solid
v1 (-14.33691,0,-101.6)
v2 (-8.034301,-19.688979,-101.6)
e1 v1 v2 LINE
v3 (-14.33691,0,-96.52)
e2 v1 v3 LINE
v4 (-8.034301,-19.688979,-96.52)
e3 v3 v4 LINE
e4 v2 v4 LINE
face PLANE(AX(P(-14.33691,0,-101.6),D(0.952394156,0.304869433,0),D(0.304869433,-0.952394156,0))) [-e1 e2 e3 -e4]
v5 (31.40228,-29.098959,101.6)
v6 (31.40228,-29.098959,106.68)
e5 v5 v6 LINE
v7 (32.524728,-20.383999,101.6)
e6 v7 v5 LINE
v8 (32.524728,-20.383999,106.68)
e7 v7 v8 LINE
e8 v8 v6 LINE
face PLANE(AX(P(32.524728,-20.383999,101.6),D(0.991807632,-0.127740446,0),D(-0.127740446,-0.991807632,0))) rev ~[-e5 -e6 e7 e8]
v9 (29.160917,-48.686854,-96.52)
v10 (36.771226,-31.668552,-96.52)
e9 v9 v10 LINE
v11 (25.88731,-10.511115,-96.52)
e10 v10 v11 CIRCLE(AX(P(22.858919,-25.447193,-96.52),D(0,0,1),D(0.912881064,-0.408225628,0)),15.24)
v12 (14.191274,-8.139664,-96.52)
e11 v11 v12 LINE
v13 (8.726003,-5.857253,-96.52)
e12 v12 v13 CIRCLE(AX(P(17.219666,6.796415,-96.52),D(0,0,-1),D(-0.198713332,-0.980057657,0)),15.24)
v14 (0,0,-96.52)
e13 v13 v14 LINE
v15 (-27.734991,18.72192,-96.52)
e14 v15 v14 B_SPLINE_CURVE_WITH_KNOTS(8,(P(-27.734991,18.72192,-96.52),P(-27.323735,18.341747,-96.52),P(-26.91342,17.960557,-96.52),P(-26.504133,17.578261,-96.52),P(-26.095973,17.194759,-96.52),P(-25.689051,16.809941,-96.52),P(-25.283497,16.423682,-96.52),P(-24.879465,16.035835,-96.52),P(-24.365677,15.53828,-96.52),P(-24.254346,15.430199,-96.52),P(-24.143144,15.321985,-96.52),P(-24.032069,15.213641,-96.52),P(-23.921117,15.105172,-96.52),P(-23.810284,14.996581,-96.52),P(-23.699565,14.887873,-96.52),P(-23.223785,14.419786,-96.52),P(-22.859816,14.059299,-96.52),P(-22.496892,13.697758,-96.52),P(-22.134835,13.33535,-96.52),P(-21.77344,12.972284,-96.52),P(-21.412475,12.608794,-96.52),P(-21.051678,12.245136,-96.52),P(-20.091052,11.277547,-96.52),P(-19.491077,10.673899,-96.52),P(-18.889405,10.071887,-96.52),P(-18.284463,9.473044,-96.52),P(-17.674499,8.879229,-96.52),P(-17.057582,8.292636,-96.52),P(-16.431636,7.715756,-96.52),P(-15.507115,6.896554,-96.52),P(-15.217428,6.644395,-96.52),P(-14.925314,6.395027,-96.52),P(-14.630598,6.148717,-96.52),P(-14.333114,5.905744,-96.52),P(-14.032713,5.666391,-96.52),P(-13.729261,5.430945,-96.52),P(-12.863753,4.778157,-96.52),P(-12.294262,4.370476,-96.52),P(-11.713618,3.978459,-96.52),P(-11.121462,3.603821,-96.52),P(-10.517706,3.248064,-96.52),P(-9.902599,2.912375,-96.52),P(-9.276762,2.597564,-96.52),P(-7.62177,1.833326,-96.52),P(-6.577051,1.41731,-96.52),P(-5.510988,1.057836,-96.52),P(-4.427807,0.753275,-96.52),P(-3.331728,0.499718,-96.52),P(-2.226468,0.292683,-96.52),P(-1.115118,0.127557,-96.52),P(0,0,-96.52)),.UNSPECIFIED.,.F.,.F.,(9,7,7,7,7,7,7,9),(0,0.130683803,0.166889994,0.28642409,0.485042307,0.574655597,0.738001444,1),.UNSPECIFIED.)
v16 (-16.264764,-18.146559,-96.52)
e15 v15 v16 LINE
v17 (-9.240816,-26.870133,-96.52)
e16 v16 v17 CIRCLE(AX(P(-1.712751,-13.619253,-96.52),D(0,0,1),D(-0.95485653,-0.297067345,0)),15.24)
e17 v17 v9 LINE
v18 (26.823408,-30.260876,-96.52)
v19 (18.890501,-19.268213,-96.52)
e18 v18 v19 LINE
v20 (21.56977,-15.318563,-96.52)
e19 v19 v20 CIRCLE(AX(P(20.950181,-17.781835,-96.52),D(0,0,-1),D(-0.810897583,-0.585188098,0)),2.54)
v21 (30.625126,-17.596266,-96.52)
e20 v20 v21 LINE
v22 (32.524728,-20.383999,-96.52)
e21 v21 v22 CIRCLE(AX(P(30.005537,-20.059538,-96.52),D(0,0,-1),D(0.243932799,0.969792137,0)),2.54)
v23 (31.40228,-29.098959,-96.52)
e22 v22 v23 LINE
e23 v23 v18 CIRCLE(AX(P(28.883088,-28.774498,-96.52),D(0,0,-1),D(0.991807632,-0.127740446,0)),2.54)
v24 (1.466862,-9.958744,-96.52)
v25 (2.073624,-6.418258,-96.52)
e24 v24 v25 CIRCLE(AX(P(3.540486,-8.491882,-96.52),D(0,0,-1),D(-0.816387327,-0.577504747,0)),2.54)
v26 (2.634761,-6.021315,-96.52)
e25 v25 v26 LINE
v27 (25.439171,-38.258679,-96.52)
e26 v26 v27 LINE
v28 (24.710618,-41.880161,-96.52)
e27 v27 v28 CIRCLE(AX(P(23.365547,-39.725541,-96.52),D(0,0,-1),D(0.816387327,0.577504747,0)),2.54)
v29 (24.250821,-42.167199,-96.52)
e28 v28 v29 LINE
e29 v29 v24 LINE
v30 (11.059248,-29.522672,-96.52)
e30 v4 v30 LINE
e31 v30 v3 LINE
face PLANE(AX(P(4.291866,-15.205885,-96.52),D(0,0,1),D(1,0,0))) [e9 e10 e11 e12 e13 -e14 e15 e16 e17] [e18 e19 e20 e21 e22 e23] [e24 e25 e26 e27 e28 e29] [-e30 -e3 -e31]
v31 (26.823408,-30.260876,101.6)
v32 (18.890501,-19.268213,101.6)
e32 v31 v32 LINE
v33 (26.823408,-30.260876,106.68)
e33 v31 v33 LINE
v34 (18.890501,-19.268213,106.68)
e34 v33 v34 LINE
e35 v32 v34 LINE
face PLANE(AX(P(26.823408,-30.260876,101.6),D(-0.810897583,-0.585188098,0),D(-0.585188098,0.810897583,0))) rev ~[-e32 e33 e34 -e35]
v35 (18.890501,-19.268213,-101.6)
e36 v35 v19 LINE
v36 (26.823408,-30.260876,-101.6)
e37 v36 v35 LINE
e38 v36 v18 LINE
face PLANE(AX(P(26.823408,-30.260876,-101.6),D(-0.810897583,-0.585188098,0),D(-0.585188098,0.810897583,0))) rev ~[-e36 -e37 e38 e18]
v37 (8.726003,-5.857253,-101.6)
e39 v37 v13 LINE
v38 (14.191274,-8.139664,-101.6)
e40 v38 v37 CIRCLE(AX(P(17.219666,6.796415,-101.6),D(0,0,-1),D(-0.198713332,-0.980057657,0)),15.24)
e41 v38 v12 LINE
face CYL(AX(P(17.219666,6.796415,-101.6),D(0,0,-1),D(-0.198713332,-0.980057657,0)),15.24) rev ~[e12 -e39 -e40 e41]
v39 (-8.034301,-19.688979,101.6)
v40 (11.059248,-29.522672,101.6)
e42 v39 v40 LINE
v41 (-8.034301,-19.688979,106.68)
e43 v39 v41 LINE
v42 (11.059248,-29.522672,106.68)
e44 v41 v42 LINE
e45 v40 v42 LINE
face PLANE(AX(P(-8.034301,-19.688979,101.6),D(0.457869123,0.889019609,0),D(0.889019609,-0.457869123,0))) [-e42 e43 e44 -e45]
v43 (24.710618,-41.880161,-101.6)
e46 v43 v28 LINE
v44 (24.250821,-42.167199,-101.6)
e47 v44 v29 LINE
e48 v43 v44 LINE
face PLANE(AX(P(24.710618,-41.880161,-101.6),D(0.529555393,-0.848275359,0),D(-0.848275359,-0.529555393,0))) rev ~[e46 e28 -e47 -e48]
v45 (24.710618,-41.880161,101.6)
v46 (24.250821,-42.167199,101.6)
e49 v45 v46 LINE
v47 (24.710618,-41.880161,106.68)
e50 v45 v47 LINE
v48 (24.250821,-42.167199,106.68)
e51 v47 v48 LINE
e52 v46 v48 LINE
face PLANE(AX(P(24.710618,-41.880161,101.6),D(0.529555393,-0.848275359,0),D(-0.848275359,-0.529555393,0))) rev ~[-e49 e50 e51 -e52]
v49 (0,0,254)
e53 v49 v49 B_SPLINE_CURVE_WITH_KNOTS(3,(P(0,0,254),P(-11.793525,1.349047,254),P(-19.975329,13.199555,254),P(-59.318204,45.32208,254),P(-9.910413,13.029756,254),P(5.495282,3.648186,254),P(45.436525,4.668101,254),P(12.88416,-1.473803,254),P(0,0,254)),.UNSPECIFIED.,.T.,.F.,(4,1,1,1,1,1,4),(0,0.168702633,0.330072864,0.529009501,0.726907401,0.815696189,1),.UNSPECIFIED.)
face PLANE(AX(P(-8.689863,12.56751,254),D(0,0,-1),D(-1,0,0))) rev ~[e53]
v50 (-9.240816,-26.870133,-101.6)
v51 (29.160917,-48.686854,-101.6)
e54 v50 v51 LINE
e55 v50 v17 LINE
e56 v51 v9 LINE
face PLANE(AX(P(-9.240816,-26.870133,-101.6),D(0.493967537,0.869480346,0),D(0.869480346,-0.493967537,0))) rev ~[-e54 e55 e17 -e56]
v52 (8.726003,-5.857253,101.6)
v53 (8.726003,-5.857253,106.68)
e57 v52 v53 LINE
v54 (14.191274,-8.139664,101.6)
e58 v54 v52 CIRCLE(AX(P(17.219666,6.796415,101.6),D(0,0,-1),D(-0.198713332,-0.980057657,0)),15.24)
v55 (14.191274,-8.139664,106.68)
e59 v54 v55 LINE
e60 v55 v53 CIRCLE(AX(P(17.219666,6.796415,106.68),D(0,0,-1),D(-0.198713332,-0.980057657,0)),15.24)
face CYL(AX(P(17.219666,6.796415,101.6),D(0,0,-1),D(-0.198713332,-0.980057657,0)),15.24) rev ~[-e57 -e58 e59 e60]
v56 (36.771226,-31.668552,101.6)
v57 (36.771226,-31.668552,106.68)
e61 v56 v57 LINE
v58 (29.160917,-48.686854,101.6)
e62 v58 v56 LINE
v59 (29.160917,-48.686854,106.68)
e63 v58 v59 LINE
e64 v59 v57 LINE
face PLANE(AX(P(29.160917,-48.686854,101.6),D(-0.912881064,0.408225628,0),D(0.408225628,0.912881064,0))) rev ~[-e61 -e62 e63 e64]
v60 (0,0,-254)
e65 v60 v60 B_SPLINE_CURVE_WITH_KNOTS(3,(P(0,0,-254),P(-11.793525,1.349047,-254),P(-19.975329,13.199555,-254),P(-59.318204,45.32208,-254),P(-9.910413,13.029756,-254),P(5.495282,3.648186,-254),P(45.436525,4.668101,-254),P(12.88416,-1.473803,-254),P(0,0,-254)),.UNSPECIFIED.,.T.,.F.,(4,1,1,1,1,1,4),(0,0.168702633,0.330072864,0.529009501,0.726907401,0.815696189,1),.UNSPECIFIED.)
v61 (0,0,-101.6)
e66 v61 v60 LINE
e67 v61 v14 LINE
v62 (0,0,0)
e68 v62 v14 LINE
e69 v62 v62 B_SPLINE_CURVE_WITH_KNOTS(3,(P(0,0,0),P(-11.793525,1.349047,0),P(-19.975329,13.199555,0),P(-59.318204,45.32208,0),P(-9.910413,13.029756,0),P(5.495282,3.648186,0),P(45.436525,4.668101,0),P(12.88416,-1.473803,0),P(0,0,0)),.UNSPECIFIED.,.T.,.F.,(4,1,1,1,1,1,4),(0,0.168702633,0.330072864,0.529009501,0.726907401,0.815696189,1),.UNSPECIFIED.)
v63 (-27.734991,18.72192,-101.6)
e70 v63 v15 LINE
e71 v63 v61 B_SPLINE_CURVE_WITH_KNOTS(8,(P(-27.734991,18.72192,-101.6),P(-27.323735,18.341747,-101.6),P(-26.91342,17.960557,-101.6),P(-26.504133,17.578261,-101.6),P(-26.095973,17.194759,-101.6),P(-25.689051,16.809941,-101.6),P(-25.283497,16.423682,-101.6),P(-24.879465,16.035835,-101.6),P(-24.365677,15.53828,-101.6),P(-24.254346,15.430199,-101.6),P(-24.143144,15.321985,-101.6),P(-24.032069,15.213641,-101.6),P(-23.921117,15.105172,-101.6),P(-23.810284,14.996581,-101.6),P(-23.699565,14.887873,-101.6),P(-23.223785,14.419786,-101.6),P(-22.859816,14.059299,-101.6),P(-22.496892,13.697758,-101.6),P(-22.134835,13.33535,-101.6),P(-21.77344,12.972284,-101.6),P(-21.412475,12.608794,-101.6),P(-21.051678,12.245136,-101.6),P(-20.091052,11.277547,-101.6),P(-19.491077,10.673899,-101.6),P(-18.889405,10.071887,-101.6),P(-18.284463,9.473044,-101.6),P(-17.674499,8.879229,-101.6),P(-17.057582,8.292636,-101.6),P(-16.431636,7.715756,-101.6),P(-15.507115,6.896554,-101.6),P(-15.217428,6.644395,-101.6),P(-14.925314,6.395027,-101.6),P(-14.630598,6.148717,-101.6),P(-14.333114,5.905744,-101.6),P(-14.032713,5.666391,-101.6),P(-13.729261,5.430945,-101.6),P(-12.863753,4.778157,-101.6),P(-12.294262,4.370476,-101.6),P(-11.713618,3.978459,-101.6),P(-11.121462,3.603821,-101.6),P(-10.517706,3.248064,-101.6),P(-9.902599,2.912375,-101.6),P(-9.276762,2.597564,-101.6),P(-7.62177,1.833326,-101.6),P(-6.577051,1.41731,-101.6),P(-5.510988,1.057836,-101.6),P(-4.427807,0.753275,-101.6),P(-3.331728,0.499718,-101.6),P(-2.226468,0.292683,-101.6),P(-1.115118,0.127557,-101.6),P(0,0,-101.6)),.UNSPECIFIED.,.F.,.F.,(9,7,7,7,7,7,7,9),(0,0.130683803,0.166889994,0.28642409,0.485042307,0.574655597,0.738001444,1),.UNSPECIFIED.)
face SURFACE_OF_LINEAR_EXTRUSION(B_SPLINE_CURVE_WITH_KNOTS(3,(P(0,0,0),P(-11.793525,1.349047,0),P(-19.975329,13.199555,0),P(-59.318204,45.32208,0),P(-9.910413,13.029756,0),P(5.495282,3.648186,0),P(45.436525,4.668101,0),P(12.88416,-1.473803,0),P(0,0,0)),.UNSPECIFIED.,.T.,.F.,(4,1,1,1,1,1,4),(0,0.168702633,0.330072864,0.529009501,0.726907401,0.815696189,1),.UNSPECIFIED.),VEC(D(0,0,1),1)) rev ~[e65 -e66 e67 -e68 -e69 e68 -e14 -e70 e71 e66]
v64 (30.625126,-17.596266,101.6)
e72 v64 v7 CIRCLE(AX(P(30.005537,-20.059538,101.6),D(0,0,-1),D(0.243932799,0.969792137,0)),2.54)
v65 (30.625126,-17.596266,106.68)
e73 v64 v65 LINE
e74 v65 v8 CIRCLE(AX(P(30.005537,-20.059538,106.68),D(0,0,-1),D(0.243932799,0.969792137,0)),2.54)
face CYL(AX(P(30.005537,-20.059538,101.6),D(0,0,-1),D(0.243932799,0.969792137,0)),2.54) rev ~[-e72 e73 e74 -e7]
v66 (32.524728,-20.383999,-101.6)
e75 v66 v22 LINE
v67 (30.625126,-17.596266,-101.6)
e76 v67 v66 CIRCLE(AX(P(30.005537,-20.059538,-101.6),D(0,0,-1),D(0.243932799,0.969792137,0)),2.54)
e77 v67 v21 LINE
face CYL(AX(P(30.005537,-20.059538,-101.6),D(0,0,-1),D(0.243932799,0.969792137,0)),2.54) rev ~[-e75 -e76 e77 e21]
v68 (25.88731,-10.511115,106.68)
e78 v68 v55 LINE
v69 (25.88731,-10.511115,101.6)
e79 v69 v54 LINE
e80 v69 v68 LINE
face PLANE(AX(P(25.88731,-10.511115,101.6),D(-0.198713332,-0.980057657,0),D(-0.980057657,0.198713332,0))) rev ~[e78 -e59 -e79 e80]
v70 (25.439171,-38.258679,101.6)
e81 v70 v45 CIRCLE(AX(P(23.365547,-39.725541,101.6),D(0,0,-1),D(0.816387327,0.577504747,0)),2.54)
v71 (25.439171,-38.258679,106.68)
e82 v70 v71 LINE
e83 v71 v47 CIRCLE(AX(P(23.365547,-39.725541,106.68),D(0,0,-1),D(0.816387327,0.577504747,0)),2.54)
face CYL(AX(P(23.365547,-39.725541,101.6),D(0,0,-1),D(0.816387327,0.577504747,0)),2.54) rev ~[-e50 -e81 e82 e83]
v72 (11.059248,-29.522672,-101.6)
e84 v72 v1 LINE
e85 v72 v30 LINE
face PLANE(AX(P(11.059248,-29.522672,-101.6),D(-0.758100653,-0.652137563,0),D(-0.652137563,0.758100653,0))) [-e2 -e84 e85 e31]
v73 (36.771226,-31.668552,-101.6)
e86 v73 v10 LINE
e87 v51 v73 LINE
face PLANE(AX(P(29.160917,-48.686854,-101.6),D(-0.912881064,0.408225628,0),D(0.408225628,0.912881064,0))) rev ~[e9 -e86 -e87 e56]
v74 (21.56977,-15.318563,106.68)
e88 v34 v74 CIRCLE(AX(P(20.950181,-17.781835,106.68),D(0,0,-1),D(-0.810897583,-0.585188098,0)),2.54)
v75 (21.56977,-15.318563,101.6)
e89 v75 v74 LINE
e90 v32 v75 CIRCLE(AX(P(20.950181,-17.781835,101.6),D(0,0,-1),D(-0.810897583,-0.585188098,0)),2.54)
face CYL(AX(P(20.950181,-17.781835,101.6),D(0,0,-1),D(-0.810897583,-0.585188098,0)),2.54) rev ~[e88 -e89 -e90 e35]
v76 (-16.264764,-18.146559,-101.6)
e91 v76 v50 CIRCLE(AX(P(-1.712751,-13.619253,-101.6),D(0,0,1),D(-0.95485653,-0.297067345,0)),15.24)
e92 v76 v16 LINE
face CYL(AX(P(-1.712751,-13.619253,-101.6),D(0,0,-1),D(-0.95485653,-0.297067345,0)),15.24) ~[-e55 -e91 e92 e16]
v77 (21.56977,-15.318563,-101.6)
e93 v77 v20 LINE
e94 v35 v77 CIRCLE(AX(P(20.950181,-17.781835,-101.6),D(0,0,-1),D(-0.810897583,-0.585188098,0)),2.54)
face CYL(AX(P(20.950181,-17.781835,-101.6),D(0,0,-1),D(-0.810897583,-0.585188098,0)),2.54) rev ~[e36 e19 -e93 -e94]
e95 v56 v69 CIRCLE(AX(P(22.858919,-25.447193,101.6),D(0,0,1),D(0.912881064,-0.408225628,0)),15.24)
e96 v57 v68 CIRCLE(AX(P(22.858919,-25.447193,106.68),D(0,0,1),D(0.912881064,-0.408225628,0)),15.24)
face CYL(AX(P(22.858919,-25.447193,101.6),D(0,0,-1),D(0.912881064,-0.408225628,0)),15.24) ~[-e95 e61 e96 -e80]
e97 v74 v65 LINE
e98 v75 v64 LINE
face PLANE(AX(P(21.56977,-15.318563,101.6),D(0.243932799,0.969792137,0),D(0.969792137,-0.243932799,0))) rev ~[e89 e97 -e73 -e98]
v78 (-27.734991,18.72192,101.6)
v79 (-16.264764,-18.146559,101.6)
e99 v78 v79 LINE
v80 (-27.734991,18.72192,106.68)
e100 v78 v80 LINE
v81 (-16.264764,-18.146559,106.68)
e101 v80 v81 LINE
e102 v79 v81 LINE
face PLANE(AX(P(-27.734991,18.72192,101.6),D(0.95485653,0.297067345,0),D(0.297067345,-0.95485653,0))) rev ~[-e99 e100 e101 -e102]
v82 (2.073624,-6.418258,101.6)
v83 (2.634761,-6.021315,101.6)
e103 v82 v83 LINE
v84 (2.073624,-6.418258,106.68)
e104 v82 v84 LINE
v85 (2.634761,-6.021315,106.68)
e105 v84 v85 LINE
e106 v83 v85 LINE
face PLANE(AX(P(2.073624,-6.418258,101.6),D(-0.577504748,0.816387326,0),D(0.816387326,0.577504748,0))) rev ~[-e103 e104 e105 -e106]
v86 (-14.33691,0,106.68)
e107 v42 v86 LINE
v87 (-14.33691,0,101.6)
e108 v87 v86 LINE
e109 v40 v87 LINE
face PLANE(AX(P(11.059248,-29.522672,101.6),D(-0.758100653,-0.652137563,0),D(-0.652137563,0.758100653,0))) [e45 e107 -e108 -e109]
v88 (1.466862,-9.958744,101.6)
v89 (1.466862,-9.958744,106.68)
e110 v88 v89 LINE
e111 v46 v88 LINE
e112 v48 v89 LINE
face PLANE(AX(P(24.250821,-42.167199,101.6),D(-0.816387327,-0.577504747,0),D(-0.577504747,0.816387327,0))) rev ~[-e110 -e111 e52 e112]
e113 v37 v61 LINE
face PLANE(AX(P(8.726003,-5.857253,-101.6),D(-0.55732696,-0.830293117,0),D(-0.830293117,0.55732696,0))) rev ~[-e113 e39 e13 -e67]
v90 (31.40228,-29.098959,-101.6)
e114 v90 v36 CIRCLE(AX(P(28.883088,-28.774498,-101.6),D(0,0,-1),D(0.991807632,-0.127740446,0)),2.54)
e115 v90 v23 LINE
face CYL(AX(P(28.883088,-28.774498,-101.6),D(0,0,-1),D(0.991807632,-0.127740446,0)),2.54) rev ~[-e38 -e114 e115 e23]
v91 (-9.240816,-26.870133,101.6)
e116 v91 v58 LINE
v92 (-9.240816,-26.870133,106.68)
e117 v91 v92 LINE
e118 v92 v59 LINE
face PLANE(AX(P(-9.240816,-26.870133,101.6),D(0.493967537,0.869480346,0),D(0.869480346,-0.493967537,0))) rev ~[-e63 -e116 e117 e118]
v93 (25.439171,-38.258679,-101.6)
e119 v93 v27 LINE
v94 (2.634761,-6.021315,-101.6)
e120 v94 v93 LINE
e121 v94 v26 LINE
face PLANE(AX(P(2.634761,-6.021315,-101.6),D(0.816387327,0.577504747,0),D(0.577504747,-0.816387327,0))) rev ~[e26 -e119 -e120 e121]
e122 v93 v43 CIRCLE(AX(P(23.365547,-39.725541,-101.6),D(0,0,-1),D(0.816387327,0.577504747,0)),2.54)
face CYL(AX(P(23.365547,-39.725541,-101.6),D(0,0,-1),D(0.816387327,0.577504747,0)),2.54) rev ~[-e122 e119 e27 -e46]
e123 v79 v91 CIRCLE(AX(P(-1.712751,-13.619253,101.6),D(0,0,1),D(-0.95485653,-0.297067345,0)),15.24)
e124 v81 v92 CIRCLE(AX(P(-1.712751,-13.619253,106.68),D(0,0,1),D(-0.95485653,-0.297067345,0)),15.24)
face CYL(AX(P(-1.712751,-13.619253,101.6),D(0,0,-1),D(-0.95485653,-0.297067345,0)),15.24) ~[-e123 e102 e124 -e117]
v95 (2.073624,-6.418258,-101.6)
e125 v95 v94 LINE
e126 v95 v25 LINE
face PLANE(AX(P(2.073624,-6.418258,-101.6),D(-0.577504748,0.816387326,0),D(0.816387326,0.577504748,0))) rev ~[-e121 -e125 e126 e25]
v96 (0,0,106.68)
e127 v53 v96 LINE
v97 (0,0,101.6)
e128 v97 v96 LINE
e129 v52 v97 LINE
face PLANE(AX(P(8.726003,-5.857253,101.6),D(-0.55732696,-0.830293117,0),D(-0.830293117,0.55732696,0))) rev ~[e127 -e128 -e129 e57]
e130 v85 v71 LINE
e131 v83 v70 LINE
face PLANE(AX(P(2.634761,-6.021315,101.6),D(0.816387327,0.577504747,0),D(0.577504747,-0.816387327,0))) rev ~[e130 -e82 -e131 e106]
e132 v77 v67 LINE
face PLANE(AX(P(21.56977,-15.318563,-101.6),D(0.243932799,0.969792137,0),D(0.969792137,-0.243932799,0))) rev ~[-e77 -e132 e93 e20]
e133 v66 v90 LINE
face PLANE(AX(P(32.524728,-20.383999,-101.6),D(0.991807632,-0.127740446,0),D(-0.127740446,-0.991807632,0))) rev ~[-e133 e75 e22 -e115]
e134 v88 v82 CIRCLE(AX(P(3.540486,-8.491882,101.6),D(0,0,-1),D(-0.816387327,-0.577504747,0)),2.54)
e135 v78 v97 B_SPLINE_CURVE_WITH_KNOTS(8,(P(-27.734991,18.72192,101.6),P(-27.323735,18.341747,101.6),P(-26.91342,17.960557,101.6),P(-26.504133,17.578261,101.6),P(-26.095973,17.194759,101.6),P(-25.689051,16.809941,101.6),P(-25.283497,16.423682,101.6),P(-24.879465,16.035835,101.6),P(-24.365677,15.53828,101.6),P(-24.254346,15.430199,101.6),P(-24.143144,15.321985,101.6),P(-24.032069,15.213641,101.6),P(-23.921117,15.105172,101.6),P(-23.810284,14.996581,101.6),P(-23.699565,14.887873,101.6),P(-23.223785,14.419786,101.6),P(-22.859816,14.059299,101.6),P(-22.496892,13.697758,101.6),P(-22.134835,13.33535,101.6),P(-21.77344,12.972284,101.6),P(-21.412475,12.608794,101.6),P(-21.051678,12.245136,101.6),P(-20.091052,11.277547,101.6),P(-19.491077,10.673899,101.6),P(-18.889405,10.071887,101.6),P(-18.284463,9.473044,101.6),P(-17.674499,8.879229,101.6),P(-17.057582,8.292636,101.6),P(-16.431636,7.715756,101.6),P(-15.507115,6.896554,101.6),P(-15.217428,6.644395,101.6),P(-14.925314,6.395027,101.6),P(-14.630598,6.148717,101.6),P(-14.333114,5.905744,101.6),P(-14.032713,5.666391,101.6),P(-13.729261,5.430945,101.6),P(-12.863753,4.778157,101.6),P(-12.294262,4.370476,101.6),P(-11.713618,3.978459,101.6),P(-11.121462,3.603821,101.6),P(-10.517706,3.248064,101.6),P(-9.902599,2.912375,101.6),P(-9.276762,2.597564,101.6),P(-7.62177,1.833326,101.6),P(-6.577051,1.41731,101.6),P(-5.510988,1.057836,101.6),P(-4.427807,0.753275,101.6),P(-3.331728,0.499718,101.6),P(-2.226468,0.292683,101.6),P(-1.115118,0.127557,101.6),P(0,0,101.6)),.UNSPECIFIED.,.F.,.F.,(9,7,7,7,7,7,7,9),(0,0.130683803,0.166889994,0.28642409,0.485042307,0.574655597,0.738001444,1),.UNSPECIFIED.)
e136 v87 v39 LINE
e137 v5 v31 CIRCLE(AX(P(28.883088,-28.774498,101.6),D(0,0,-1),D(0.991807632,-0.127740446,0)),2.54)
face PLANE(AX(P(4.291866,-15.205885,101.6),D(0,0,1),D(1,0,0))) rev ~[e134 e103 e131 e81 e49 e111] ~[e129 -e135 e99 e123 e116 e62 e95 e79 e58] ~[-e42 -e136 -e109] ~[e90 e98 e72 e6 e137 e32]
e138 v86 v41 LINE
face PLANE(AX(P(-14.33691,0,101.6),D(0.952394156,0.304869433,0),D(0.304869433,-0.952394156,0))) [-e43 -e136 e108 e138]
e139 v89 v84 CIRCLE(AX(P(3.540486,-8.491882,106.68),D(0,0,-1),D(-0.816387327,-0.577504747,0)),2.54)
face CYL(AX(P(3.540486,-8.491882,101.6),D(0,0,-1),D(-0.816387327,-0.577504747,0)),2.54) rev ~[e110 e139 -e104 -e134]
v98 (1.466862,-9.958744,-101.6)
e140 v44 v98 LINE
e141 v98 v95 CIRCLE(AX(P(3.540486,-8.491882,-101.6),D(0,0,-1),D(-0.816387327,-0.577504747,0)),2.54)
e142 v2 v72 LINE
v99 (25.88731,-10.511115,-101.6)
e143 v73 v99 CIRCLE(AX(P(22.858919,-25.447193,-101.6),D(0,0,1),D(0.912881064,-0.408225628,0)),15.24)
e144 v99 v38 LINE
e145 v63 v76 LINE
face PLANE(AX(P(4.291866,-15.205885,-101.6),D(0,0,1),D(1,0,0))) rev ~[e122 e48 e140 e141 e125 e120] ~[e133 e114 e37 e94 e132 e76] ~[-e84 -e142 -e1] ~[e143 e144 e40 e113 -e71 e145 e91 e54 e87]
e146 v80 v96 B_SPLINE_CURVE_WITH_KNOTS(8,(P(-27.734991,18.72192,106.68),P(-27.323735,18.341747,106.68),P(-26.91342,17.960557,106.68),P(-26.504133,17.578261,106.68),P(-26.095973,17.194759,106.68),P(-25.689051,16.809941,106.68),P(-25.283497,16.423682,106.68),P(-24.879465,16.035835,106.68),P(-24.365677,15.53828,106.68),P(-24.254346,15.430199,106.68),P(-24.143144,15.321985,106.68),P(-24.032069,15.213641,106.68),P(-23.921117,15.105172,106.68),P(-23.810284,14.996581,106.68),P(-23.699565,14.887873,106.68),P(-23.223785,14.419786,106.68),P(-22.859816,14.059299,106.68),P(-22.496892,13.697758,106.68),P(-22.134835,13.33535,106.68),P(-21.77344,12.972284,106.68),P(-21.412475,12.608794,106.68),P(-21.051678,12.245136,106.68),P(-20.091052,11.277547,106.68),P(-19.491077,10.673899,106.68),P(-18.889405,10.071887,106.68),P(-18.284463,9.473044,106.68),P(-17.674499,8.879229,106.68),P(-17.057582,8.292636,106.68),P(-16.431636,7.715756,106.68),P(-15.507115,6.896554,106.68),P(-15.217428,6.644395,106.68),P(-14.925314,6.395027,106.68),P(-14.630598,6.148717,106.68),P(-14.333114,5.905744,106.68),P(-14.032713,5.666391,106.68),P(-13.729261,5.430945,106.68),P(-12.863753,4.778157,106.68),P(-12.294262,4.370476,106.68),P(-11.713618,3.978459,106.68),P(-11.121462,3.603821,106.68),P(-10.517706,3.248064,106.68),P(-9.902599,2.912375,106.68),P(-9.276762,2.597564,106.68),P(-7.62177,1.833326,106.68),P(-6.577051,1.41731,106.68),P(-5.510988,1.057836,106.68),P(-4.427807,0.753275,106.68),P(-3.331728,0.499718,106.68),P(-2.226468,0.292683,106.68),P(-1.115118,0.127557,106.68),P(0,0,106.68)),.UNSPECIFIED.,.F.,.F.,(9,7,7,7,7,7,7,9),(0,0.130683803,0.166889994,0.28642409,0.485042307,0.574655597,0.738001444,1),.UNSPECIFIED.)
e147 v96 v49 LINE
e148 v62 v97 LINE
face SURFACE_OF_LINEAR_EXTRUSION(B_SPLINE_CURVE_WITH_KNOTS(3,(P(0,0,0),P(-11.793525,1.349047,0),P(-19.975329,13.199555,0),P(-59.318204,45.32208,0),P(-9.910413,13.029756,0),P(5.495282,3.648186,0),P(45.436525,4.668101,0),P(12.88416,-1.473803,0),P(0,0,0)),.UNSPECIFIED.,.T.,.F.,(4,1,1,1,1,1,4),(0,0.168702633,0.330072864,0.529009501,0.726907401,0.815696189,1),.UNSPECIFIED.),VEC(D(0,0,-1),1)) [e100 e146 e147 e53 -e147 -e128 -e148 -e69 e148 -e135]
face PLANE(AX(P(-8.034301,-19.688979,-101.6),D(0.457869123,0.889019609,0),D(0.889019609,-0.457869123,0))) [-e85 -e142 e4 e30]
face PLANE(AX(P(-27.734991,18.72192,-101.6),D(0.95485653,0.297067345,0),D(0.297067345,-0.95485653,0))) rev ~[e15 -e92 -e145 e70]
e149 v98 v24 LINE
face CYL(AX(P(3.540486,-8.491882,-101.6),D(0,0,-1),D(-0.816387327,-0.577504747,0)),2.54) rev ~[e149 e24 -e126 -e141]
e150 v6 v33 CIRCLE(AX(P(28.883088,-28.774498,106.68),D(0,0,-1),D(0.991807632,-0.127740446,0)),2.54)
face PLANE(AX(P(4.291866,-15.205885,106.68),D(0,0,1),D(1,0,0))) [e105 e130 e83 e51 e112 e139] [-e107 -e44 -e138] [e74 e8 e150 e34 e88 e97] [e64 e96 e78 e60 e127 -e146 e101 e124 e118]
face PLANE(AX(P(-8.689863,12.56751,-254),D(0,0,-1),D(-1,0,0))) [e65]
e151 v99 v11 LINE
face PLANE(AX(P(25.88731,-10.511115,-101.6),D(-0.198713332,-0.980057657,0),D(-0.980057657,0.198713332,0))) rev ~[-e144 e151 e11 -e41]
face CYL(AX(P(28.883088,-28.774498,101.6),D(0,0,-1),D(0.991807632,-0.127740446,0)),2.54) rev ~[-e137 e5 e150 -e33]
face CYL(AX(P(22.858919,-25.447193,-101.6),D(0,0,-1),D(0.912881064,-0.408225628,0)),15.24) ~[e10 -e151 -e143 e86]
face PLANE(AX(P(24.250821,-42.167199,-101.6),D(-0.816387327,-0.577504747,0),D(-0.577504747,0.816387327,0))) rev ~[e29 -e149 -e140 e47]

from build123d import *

# Parameters (mm, degrees)
BOSS_EXTRUDE1_DEPTH      = 254
BOSS_EXTRUDE1_DEPTH_BACK = 254
BOSS_EXTRUDE3_START      = 101.6
BOSS_EXTRUDE3_DEPTH      = 5.08
BOSS_EXTRUDE4_START      = -101.6
BOSS_EXTRUDE4_DEPTH      = 5.08


with BuildPart() as part:
    # Sketch1 → Boss-Extrude1 (new body, two sides)
    with BuildSketch(Plane.XY) as boss_extrude1_sk:
        with BuildLine():
            add(Edge.make_bspline(
                [(0, 0), (-11.793525261, 1.349047136), (-19.975328866, 13.199555213), (-59.318204425, 45.322079961), (-9.910413221, 13.029756153), (5.495282291, 3.64818604), (45.436525366, 4.66810117), (12.884159615, -1.473803484), (0, 0)],
                knots=[0, 0, 0, 0, 0.168702633, 0.330072864, 0.529009501, 0.726907401, 0.815696189, 1, 1, 1, 1], degree=3))
        make_face()
    extrude(amount=BOSS_EXTRUDE1_DEPTH)
    extrude(boss_extrude1_sk.sketch, amount=-BOSS_EXTRUDE1_DEPTH_BACK)

    # Sketch5 → Boss-Extrude3 (add)
    with BuildSketch(Plane.XY.offset(BOSS_EXTRUDE3_START)):
        with BuildLine():
            Line((-27.734991315, 18.72191959), (-16.264764371, -18.146559209))
            ThreePointArc((-16.264764371, -18.146559209), (-13.583203929, -23.176969331), (-9.240816118, -26.870133353))
            Line((-9.240816118, -26.870133353), (29.160917005, -48.686853663))
            Line((29.160917005, -48.686853663), (36.771225951, -31.668551915))
            ThreePointArc((36.771225951, -31.668551915), (36.410896446, -18.475716102), (25.887309714, -10.51111464))
            Line((25.887309714, -10.51111464), (14.191274323, -8.139664204))
            ThreePointArc((14.191274323, -8.139664204), (11.346694949, -7.26650899), (8.726002622, -5.857252601))
            Line((8.726002622, -5.857252601), (0, 0))
            Line((0, 0), (-27.734991315, 18.72191959))
        make_face()
        Polygon((-14.336909606, 0), (-8.034300835, -19.688978698), (11.0592478, -29.522672217), align=None, mode=Mode.SUBTRACT)
        with BuildLine():
            Line((24.250821237, -42.167199078), (1.466862058, -9.958744316))
            ThreePointArc((1.466862058, -9.958744316), (1.036984302, -8.062836909), (2.07362381, -6.418258448))
            Line((2.07362381, -6.418258448), (2.634761281, -6.021315057))
            Line((2.634761281, -6.021315057), (25.439170673, -38.258679182))
            ThreePointArc((25.439170673, -38.258679182), (25.855657312, -40.226490291), (24.710617564, -41.880160651))
            Line((24.710617564, -41.880160651), (24.250821237, -42.167199078))
        make_face(mode=Mode.SUBTRACT)
        with BuildLine():
            Line((21.569770125, -15.318563235), (30.625126067, -17.596266091))
            ThreePointArc((30.625126067, -17.596266091), (32.104548322, -18.62924079), (32.524728142, -20.383998852))
            Line((32.524728142, -20.383998852), (31.402279737, -29.098958991))
            ThreePointArc((31.402279737, -29.098958991), (29.507828706, -31.236468911), (26.823408491, -30.260876027))
            Line((26.823408491, -30.260876027), (18.890500955, -19.268213032))
            ThreePointArc((18.890500955, -19.268213032), (18.848182105, -16.355931543), (21.569770125, -15.318563235))
        make_face(mode=Mode.SUBTRACT)
    extrude(amount=BOSS_EXTRUDE3_DEPTH)

    # Sketch5<3> → Boss-Extrude4 (add)
    with BuildSketch(Plane.XY.offset(BOSS_EXTRUDE4_START)):
        with BuildLine():
            Line((-27.734991315, 18.72191959), (-16.264764371, -18.146559209))
            ThreePointArc((-16.264764371, -18.146559209), (-13.583203929, -23.176969331), (-9.240816118, -26.870133353))
            Line((-9.240816118, -26.870133353), (29.160917005, -48.686853663))
            Line((29.160917005, -48.686853663), (36.771225951, -31.668551915))
            ThreePointArc((36.771225951, -31.668551915), (36.410896446, -18.475716102), (25.887309714, -10.51111464))
            Line((25.887309714, -10.51111464), (14.191274323, -8.139664204))
            ThreePointArc((14.191274323, -8.139664204), (11.346694949, -7.26650899), (8.726002622, -5.857252601))
            Line((8.726002622, -5.857252601), (0, 0))
            Line((0, 0), (-27.734991315, 18.72191959))
        make_face()
        Polygon((-14.336909606, 0), (-8.034300835, -19.688978698), (11.0592478, -29.522672217), align=None, mode=Mode.SUBTRACT)
        with BuildLine():
            Line((24.250821237, -42.167199078), (1.466862058, -9.958744316))
            ThreePointArc((1.466862058, -9.958744316), (1.036984302, -8.062836909), (2.07362381, -6.418258448))
            Line((2.07362381, -6.418258448), (2.634761281, -6.021315057))
            Line((2.634761281, -6.021315057), (25.439170673, -38.258679182))
            ThreePointArc((25.439170673, -38.258679182), (25.855657312, -40.226490291), (24.710617564, -41.880160651))
            Line((24.710617564, -41.880160651), (24.250821237, -42.167199078))
        make_face(mode=Mode.SUBTRACT)
        with BuildLine():
            Line((21.569770125, -15.318563235), (30.625126067, -17.596266091))
            ThreePointArc((30.625126067, -17.596266091), (32.104548322, -18.62924079), (32.524728142, -20.383998852))
            Line((32.524728142, -20.383998852), (31.402279737, -29.098958991))
            ThreePointArc((31.402279737, -29.098958991), (29.507828706, -31.236468911), (26.823408491, -30.260876027))
            Line((26.823408491, -30.260876027), (18.890500955, -19.268213032))
            ThreePointArc((18.890500955, -19.268213032), (18.848182105, -16.355931543), (21.569770125, -15.318563235))
        make_face(mode=Mode.SUBTRACT)
    extrude(amount=BOSS_EXTRUDE4_DEPTH)


solid = part.part
